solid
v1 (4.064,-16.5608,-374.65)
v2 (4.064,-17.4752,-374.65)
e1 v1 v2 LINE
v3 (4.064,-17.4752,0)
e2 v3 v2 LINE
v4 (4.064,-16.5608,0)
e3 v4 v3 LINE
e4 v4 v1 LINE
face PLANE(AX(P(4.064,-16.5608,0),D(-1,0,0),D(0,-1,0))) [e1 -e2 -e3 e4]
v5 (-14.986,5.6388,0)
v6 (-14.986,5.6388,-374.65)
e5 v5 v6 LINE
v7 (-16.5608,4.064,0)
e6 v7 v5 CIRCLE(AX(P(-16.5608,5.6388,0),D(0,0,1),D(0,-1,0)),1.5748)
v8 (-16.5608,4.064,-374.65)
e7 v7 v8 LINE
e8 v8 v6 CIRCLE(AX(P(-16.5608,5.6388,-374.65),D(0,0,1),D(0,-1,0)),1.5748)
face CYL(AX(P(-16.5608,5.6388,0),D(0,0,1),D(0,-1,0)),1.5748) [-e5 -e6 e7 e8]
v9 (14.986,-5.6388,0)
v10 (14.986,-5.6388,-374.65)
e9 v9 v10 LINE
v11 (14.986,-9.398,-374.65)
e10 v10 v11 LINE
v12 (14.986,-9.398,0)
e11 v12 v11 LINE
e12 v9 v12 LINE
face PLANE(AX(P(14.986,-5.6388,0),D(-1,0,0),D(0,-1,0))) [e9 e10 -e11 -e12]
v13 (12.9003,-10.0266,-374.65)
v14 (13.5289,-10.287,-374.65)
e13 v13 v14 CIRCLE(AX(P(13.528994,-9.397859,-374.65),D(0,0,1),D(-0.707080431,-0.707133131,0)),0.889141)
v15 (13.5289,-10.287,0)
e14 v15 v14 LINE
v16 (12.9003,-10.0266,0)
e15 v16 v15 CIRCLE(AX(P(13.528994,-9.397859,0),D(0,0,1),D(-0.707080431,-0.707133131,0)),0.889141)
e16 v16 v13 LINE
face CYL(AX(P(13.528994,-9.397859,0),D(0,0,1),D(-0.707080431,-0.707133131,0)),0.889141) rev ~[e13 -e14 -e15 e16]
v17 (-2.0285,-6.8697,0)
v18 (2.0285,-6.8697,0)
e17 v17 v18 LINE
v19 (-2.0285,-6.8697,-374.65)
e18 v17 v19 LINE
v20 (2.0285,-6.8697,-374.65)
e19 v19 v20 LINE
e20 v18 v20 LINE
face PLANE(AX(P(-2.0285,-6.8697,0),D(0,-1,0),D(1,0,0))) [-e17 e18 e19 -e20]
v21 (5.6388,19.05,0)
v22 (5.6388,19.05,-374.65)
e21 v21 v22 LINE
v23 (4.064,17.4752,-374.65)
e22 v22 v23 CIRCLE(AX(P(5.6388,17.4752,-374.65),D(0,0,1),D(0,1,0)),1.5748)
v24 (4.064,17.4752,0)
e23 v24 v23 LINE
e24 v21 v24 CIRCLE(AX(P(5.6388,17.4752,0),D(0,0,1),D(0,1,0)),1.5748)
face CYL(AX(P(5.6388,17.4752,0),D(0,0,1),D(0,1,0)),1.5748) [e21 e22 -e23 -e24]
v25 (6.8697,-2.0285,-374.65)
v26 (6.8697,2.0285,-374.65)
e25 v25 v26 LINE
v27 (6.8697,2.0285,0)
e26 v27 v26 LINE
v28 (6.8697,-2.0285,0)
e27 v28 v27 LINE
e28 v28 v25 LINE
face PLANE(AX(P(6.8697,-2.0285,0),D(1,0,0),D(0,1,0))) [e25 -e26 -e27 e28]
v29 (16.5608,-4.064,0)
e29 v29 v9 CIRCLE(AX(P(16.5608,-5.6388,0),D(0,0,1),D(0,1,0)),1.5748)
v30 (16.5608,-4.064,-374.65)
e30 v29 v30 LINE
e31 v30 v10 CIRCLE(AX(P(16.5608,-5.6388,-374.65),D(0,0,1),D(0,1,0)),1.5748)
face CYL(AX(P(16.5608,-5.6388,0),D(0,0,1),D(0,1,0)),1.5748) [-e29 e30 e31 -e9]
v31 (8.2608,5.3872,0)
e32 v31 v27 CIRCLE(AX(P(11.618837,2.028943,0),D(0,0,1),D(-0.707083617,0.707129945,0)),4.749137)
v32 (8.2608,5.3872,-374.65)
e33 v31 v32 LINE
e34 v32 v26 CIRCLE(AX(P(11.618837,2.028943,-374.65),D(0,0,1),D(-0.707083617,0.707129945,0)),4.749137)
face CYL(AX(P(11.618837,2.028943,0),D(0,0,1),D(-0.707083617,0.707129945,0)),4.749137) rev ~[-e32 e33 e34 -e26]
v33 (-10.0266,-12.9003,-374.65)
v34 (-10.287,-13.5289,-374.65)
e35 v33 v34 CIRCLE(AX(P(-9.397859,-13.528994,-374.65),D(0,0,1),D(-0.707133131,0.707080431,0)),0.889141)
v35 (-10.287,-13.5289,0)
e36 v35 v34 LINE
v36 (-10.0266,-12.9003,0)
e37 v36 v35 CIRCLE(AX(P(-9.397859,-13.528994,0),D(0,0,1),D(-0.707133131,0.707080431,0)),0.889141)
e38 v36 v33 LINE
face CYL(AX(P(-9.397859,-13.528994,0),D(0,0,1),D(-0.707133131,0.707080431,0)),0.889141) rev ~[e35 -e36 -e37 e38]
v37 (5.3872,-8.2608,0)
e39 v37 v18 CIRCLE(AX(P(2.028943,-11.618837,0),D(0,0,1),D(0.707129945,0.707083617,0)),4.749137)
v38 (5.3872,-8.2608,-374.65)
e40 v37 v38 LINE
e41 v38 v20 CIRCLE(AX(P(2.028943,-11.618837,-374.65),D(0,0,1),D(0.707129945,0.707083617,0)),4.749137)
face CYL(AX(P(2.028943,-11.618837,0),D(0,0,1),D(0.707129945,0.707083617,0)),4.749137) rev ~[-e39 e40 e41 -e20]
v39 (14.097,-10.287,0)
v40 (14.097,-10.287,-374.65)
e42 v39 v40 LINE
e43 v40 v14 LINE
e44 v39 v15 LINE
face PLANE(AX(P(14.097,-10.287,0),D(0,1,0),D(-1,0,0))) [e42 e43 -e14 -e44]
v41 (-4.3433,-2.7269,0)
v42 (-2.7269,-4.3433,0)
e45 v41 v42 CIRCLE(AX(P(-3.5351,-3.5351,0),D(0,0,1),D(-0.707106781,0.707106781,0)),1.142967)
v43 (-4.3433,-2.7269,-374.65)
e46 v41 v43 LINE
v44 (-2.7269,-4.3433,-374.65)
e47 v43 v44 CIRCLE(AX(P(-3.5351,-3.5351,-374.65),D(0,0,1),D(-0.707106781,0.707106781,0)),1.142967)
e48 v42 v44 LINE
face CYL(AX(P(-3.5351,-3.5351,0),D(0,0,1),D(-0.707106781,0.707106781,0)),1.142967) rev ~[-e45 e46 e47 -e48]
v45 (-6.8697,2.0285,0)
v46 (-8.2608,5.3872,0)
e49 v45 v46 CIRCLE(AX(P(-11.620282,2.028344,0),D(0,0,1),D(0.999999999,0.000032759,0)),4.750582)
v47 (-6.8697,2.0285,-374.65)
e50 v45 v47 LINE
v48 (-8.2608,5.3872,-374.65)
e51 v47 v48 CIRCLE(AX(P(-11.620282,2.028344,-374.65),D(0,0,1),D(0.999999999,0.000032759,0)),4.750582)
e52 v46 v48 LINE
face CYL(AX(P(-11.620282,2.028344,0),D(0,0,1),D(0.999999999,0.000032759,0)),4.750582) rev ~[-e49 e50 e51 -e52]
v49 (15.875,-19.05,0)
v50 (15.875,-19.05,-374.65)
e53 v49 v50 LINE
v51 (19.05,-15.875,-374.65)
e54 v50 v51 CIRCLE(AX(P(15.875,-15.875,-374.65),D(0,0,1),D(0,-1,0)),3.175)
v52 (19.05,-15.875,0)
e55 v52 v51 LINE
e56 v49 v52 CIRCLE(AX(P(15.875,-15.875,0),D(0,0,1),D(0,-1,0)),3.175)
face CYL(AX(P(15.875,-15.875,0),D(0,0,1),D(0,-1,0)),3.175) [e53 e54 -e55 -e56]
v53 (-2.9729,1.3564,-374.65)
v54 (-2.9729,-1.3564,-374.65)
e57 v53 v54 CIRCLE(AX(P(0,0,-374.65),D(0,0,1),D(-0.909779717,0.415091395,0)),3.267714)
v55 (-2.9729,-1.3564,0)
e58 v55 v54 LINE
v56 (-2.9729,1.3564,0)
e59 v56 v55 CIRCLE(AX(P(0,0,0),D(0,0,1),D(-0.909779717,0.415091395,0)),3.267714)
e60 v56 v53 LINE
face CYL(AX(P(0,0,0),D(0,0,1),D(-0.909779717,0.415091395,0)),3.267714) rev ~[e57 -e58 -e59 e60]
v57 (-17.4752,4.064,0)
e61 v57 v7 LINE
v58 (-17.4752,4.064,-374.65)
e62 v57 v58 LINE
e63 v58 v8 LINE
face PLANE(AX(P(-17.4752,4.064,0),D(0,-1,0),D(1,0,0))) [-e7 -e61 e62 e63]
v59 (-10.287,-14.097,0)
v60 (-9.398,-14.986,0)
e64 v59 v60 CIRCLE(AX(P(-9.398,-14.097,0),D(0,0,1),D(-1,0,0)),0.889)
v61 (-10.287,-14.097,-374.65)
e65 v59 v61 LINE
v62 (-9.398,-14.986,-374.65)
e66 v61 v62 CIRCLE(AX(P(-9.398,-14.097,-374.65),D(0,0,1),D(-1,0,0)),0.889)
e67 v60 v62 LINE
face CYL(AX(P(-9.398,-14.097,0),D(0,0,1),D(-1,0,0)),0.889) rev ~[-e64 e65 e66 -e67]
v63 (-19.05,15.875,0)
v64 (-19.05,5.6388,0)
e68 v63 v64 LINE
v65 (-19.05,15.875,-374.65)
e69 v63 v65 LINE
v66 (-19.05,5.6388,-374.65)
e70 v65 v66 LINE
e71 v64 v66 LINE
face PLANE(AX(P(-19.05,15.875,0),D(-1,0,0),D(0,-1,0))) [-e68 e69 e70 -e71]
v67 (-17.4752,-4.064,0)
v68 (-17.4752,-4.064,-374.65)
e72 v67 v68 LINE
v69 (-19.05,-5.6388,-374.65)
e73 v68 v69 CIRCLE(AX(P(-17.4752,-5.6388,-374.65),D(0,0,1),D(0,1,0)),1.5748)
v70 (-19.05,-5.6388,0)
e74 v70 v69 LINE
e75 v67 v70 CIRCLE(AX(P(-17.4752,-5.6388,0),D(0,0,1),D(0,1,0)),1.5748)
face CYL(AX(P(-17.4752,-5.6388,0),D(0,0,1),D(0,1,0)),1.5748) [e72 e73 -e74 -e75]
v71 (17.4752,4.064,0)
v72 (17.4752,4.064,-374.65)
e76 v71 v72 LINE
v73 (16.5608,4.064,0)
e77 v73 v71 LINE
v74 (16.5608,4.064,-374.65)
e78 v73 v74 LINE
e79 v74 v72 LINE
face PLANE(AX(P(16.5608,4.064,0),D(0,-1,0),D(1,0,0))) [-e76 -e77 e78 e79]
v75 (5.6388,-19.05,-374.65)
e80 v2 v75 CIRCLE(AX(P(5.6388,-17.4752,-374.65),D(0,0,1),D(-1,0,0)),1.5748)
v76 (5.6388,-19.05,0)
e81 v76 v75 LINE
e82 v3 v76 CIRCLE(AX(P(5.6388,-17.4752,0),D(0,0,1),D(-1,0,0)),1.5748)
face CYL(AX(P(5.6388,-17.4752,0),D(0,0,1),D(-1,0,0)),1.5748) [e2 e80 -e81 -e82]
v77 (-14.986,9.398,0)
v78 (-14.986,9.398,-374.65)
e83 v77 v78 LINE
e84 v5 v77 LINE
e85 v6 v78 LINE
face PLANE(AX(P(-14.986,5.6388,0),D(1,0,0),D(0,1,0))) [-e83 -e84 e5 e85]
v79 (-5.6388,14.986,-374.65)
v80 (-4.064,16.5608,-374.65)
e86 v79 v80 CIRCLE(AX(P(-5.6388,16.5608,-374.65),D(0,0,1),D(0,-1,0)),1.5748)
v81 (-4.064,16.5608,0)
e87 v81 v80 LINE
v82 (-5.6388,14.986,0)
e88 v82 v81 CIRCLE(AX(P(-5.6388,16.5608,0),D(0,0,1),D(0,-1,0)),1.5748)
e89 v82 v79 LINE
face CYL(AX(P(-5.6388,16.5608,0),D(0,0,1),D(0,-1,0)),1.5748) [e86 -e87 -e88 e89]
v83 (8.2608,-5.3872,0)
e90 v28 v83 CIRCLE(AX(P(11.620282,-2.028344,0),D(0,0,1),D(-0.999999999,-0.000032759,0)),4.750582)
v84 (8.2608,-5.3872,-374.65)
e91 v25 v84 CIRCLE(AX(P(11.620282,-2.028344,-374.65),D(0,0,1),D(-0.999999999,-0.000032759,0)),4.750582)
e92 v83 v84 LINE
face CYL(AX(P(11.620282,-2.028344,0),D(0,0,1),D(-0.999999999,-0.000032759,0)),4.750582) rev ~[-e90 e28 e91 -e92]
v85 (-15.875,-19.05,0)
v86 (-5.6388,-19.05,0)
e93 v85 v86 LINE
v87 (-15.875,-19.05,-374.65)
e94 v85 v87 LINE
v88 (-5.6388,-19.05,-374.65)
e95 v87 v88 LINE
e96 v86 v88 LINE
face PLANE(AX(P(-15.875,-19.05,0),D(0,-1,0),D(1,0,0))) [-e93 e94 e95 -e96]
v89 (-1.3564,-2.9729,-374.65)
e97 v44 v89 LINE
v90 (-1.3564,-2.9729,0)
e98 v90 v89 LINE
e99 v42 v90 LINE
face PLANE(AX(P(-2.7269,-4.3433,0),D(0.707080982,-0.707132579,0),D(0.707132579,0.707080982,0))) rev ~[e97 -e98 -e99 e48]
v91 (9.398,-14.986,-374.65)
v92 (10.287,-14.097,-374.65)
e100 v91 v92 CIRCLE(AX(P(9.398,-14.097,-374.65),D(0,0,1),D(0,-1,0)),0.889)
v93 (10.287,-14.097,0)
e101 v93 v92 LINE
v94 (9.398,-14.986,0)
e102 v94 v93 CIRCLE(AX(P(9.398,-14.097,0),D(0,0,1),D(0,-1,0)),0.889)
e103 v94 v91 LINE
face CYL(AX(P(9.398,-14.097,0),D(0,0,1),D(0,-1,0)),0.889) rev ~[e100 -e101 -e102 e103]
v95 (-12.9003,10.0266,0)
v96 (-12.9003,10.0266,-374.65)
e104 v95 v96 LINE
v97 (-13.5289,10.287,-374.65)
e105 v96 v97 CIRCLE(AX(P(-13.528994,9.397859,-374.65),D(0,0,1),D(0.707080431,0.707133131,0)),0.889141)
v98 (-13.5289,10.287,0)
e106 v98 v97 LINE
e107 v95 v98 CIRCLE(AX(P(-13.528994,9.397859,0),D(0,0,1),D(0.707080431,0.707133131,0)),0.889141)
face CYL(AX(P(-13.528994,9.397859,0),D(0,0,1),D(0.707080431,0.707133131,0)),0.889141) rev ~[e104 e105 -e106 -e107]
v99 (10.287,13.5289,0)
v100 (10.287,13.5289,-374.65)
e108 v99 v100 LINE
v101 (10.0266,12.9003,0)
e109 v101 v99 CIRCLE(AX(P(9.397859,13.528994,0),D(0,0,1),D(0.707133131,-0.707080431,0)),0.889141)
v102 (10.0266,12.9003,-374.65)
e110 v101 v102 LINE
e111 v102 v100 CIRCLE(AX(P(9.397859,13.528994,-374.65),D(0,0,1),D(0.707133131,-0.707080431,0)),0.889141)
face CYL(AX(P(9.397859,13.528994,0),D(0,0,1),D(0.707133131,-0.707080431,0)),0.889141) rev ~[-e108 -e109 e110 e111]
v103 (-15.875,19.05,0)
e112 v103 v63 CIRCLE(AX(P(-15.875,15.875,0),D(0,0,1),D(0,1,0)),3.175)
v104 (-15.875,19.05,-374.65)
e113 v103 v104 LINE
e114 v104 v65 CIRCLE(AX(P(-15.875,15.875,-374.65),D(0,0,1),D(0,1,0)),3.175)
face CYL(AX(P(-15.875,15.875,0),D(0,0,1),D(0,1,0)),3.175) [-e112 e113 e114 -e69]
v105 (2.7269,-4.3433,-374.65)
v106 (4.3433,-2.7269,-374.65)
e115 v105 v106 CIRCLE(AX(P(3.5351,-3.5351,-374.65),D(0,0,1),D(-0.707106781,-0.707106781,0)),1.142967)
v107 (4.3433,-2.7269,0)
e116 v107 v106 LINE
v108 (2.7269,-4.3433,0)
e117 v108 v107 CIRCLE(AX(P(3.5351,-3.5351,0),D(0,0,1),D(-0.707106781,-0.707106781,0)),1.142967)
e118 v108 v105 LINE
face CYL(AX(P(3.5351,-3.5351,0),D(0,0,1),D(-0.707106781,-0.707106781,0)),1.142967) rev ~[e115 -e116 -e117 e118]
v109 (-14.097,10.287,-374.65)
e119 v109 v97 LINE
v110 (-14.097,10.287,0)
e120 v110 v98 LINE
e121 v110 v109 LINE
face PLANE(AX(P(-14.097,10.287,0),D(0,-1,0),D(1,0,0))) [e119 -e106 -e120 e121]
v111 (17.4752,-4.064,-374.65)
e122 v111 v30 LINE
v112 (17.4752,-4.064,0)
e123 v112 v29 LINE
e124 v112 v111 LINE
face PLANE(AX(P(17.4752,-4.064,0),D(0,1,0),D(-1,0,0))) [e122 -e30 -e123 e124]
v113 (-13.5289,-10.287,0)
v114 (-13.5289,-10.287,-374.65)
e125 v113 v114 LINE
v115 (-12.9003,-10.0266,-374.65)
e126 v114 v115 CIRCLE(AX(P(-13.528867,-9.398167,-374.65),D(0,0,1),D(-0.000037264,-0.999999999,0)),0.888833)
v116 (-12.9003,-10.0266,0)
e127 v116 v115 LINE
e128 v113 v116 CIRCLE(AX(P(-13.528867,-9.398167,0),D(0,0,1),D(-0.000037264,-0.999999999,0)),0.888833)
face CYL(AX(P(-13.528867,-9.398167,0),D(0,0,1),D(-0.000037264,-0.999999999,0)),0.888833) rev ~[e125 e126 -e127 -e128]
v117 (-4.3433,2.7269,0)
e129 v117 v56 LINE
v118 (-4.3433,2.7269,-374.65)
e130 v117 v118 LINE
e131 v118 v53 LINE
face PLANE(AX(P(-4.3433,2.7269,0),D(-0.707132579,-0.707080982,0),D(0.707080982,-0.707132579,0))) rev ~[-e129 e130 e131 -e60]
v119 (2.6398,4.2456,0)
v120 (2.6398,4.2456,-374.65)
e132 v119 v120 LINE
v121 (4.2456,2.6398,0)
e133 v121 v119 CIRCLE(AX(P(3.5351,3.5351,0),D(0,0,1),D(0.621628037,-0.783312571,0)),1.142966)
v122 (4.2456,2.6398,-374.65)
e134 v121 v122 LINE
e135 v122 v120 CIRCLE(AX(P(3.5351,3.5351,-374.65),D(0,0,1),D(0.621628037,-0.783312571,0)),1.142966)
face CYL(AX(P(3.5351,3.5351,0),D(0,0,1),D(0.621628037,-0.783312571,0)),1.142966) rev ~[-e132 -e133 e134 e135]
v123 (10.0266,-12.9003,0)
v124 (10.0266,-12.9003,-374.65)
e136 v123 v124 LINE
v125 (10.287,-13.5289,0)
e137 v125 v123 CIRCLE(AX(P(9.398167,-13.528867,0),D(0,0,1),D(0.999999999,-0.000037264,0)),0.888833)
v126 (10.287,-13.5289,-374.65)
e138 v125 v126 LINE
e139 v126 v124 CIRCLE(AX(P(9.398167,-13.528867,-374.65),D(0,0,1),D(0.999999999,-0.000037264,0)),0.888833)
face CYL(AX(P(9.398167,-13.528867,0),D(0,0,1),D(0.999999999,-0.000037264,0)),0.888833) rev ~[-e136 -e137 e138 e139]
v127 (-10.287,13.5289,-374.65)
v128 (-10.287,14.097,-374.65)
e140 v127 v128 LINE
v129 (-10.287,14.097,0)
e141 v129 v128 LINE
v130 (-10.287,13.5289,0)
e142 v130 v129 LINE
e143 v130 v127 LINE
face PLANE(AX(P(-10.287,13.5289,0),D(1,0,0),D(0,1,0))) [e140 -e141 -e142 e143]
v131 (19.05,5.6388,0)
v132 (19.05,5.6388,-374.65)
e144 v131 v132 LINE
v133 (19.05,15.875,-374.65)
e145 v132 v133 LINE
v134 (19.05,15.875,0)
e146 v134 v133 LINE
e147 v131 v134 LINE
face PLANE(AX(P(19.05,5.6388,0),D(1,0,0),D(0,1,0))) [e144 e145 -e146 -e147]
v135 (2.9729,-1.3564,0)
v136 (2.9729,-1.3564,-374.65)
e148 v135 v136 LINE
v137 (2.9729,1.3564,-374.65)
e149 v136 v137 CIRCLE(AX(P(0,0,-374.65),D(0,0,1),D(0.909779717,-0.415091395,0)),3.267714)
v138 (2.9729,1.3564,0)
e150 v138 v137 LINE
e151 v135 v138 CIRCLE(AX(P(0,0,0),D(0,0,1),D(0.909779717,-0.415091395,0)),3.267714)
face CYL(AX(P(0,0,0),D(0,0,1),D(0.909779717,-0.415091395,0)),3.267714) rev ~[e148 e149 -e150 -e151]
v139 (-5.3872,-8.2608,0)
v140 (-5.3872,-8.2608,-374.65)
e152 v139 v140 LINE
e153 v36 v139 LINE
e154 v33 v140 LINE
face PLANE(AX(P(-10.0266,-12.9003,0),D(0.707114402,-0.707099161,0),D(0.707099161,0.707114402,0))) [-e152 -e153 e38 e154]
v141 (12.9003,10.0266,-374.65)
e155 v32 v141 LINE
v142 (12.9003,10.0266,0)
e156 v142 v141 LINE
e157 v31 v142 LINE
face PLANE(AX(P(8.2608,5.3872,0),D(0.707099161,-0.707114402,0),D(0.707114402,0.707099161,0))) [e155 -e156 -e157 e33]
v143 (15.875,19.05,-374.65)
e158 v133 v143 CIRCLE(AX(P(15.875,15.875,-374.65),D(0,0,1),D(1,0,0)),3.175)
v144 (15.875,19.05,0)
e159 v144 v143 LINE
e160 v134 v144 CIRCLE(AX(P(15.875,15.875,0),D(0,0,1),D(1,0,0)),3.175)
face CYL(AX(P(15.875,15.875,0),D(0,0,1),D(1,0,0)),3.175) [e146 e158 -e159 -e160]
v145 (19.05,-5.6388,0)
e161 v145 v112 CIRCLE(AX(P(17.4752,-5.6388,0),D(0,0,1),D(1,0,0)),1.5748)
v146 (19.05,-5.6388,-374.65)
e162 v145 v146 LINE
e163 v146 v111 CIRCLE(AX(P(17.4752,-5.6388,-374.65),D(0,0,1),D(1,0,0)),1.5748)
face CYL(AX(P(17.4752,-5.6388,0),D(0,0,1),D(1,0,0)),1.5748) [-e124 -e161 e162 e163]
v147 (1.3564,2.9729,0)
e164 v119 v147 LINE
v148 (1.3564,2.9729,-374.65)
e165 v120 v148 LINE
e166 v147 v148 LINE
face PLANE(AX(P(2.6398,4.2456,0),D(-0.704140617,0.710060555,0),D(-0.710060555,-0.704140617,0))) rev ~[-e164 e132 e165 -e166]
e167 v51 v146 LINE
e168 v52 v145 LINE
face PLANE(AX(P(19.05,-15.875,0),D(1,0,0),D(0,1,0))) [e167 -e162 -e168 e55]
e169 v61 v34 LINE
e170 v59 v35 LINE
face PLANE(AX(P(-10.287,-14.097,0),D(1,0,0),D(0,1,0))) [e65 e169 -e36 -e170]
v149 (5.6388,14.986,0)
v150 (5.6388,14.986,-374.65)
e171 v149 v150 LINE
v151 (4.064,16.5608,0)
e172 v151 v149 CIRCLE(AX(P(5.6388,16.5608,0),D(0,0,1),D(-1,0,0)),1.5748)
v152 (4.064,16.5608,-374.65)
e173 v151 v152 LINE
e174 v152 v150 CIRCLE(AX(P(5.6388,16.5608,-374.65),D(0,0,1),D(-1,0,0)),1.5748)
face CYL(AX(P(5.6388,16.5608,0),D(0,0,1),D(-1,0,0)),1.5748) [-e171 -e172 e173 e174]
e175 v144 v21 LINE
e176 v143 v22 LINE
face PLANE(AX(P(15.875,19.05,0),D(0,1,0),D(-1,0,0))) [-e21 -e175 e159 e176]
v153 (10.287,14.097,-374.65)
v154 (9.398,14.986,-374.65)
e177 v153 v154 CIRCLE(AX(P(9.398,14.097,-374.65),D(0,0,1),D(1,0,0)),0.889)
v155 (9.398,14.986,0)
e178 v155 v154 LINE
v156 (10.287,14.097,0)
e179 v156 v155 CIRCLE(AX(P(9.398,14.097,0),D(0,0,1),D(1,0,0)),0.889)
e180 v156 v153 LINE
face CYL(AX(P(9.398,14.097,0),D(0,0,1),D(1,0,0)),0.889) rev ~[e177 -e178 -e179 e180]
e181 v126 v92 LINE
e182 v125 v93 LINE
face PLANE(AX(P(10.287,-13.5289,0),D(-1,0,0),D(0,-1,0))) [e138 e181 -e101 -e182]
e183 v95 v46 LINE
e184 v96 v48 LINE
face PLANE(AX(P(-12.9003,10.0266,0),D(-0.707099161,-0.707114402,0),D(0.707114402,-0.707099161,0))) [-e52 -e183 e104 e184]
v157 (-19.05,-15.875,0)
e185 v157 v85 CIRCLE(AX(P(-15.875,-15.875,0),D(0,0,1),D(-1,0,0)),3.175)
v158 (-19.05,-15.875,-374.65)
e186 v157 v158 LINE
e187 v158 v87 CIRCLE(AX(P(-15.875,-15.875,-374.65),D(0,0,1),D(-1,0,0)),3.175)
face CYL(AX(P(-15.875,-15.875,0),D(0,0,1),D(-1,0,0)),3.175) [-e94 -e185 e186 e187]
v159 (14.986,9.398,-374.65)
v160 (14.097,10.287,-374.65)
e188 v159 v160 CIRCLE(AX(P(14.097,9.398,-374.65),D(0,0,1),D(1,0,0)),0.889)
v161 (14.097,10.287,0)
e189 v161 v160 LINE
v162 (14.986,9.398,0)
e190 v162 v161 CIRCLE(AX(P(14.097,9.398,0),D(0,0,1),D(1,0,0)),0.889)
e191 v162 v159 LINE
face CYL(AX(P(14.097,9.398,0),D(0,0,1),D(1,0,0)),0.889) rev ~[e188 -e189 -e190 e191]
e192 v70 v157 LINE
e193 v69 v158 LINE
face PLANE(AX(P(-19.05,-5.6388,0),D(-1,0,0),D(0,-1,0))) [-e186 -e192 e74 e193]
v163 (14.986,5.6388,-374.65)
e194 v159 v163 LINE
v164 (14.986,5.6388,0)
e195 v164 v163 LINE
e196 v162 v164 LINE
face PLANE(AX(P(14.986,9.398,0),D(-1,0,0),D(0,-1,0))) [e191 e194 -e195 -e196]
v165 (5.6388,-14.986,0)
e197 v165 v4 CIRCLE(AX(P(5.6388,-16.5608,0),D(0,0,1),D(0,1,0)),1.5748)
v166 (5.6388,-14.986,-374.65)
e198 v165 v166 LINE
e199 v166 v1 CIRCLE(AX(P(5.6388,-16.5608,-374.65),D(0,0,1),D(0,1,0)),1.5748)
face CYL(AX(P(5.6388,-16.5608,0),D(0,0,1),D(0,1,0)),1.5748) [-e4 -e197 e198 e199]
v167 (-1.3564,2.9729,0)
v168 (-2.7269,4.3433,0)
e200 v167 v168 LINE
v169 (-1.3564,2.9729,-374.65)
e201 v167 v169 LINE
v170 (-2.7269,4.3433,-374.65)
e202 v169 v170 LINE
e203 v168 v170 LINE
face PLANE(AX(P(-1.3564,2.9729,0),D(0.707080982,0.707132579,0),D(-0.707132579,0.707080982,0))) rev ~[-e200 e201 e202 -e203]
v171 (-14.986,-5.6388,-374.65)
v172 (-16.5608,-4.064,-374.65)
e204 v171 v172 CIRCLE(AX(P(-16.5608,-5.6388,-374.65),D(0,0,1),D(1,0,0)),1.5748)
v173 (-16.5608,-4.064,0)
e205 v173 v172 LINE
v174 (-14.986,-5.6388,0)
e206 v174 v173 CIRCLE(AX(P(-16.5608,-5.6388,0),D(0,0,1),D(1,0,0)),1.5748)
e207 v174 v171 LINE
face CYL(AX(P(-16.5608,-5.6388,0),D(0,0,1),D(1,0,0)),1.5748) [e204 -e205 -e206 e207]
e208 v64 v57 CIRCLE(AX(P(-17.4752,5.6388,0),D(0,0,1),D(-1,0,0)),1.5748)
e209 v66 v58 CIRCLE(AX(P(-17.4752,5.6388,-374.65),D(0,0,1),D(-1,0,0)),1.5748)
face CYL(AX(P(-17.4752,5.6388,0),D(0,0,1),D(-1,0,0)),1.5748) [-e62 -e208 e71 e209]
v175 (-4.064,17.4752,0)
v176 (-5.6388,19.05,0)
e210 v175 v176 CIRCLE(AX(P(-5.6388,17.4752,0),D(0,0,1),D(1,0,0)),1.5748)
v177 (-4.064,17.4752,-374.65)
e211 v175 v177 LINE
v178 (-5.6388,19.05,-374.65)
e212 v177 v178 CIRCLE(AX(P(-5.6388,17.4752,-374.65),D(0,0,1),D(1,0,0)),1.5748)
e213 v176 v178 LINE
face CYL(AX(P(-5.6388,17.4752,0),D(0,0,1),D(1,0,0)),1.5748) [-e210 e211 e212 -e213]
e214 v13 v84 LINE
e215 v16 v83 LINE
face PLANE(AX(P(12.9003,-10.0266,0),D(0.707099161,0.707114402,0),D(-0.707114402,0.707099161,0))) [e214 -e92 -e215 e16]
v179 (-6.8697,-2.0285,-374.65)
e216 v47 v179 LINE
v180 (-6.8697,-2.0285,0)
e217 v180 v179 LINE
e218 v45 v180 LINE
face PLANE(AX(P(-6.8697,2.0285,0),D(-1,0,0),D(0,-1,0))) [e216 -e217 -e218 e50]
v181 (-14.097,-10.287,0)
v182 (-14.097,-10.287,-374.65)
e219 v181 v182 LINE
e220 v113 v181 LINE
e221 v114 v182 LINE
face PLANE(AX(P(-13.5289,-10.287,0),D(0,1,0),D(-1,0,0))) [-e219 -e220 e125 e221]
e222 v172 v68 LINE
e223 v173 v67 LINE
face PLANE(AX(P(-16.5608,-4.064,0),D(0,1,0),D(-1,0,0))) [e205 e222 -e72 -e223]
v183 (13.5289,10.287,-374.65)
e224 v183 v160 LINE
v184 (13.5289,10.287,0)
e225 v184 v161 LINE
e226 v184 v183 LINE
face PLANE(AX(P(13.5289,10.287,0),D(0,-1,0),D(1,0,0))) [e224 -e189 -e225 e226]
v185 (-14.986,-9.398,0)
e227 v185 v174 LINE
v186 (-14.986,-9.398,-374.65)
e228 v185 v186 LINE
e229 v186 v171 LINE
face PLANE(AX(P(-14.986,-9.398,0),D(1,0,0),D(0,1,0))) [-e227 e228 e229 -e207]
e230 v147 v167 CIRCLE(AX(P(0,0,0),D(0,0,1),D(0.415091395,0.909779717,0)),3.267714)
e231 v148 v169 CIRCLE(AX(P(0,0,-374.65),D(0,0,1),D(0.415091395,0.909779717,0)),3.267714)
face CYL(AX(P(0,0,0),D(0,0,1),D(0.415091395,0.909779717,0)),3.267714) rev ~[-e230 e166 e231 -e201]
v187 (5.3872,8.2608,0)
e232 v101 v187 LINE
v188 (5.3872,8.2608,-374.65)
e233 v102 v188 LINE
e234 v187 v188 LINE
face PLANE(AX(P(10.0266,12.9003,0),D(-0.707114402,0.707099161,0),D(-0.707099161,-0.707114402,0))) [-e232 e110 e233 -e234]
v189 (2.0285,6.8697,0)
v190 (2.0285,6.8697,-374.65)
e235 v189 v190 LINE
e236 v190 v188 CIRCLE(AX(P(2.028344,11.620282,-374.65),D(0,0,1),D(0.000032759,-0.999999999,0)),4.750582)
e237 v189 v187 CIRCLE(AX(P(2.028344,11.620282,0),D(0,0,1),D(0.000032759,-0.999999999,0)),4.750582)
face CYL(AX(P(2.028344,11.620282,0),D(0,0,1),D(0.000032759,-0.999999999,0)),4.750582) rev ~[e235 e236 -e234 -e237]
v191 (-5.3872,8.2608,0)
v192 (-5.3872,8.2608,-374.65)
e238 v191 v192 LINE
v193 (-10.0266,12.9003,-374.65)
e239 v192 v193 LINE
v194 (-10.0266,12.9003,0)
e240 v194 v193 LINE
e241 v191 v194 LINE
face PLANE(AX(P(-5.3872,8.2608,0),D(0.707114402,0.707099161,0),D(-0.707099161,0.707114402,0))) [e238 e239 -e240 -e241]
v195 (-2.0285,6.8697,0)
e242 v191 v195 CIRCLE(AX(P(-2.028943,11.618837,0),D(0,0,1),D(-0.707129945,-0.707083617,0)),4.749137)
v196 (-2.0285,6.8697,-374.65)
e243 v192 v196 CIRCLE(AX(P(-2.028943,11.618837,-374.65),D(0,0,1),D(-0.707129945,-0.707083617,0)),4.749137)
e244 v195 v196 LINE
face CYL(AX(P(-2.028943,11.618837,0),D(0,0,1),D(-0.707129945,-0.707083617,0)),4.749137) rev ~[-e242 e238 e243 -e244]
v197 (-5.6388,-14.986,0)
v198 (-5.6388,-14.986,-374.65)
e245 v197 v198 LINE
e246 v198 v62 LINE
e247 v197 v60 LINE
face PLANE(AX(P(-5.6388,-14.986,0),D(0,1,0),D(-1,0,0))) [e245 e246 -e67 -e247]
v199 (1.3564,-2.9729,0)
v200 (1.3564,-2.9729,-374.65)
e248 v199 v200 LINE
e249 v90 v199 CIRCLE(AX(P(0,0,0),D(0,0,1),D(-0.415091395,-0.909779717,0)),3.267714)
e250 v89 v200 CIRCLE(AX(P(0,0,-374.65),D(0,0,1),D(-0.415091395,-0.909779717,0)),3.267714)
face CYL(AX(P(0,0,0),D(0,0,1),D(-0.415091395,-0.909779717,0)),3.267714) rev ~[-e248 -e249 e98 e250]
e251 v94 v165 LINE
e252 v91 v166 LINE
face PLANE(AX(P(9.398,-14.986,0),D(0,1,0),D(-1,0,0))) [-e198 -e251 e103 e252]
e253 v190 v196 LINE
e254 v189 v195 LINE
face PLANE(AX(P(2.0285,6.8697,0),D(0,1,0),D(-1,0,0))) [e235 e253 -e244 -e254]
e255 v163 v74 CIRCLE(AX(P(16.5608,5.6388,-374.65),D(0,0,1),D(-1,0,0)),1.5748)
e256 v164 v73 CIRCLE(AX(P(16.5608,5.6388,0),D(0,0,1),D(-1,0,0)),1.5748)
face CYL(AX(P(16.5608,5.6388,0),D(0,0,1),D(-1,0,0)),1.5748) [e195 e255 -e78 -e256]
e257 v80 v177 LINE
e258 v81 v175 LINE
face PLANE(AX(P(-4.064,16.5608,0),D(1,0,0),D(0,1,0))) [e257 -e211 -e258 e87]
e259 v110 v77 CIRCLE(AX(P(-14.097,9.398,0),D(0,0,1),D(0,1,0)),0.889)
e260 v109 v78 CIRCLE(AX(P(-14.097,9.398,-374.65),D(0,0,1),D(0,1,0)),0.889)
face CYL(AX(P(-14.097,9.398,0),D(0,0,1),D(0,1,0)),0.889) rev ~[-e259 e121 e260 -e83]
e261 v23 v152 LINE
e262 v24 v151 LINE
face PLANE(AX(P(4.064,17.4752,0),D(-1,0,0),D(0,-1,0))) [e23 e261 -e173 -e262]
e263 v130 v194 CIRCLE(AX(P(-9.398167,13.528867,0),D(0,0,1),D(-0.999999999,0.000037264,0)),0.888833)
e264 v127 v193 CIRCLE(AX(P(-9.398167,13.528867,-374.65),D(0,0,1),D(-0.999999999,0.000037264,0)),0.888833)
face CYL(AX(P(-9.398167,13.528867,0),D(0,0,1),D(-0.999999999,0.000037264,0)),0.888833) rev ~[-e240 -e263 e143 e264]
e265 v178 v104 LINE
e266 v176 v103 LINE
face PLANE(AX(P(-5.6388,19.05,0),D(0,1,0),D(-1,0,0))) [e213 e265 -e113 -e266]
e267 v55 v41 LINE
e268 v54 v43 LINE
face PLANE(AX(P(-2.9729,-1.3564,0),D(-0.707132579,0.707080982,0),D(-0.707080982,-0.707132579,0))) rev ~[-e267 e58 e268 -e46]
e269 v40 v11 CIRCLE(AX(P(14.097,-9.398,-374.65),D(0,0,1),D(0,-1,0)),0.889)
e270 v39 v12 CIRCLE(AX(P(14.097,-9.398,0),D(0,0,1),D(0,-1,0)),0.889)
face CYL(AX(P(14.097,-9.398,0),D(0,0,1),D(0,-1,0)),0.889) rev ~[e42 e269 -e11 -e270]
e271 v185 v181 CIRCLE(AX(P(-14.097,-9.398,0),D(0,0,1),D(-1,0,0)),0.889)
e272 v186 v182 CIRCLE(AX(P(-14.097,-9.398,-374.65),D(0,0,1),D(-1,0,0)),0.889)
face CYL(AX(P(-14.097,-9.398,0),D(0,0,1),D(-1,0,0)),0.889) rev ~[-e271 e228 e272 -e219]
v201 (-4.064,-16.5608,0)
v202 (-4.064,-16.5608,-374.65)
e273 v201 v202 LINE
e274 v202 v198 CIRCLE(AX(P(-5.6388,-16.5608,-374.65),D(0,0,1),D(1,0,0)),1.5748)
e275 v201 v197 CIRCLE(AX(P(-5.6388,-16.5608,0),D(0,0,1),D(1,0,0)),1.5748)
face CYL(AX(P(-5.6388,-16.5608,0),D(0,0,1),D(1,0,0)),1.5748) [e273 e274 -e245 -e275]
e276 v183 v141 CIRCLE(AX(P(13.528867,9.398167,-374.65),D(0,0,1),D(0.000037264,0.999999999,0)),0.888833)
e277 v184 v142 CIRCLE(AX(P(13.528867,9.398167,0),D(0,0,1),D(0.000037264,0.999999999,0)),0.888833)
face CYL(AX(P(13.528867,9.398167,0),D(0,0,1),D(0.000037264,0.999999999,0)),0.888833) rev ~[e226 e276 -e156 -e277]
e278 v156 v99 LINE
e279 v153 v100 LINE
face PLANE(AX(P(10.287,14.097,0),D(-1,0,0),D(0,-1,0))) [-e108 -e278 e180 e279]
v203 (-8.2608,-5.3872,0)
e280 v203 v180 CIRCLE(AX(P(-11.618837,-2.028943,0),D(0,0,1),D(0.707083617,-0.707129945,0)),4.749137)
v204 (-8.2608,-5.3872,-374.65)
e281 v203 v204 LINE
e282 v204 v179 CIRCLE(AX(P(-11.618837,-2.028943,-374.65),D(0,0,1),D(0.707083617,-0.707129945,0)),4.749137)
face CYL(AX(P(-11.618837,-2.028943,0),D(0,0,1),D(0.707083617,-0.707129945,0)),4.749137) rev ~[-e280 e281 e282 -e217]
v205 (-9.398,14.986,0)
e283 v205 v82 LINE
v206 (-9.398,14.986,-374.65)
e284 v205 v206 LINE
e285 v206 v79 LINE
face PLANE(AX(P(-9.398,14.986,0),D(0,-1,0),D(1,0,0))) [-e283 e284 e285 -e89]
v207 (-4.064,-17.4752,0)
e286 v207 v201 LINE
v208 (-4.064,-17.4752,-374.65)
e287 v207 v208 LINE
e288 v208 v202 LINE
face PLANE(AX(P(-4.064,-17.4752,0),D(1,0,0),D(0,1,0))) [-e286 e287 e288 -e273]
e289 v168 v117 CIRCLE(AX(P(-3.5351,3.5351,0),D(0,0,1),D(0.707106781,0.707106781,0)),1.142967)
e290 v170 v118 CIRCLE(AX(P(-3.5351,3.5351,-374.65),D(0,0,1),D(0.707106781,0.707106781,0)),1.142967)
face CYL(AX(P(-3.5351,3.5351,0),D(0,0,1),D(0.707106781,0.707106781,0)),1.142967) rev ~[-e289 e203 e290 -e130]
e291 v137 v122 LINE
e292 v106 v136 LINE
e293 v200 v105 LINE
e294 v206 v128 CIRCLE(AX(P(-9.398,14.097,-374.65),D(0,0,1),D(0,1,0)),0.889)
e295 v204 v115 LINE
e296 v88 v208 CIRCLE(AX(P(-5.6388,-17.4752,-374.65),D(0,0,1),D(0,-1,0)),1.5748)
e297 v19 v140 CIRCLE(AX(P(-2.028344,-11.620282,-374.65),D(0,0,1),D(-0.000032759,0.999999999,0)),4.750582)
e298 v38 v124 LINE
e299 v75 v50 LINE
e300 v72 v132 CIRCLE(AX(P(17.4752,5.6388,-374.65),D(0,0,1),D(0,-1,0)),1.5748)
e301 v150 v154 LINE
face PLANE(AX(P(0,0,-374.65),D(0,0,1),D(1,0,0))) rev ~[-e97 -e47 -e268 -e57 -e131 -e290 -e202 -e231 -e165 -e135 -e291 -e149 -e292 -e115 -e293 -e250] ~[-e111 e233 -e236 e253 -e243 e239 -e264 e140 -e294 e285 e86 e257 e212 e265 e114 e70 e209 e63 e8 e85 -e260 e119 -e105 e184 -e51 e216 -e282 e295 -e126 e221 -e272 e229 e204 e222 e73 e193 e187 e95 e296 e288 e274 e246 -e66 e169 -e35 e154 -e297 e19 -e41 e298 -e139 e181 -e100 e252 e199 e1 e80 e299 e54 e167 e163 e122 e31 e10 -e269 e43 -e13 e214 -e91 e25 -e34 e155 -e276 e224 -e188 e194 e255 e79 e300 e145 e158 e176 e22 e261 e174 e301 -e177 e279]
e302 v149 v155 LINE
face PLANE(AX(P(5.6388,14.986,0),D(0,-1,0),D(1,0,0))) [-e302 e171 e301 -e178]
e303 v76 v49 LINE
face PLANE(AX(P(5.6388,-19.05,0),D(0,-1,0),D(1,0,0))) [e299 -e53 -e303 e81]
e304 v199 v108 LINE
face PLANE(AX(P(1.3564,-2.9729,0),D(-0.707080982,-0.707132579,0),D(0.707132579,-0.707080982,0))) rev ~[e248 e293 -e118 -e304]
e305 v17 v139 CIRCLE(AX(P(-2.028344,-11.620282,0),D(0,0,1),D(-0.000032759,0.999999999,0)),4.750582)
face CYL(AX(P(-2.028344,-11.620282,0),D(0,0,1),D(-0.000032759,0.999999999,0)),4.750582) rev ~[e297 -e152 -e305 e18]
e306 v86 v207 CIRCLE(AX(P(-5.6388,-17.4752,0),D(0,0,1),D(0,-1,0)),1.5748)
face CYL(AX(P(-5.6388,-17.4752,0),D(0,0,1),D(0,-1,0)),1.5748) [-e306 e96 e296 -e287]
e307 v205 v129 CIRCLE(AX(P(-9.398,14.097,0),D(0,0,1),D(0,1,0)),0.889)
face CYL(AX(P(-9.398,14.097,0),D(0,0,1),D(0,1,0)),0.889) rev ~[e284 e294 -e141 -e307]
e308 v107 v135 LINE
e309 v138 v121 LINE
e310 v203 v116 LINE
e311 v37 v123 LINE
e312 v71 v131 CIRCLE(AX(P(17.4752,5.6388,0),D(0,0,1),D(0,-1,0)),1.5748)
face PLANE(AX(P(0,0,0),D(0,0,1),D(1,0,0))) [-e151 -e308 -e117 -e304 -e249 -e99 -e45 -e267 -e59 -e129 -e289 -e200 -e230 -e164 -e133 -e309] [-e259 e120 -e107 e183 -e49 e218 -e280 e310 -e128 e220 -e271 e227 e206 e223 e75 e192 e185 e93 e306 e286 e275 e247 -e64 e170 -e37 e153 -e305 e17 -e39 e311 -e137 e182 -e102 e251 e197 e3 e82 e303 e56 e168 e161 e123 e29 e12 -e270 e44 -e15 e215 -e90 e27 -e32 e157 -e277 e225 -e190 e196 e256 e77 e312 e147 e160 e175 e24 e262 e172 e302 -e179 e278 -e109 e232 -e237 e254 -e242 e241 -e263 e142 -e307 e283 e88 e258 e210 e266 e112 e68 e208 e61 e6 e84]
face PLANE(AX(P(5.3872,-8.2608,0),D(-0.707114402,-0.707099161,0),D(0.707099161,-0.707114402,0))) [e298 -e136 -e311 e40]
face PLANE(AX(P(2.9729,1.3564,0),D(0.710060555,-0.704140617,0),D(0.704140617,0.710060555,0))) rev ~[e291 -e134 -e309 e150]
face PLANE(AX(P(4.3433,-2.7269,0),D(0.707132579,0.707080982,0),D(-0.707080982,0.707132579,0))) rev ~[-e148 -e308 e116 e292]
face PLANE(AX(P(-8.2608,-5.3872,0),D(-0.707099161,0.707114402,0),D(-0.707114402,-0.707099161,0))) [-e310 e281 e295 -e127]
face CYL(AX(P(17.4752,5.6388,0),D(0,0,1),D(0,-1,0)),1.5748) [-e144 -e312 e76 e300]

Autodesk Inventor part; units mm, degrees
ref_plane "YZ Plane" through (0, 0, 0) normal (1, 0, 0) x (0, 1, 0)
ref_plane "XZ Plane" through (0, 0, 0) normal (0, 1, 0) x (-1, 0, 0)
ref_plane "Work Plane1" through (-293.8098, -15.875, -838.2) normal (0, 0, 1) x (1, 0, 0)
sketch "Sketch1" plane through (0, 0, 0) normal (0, 0, 1) x (1, 0, 0)
  arc A0 (4.2456, 2.6398) -> (2.6398, 4.2456) centre (3.5351, 3.5351) ccw
  line L0 (2.9729, 1.3564) -> (4.2456, 2.6398)
  arc A1 (2.9729, -1.3564) -> (2.9729, 1.3564) centre (0, 0) ccw
  line L1 (4.3433, -2.7269) -> (2.9729, -1.3564)
  arc A2 (2.7269, -4.3433) -> (4.3433, -2.7269) centre (3.5351, -3.5351) ccw
  line L2 (1.3564, -2.9729) -> (2.7269, -4.3433)
  arc A3 (-1.3564, -2.9729) -> (1.3564, -2.9729) centre (0, 0) ccw
  line L3 (-2.7269, -4.3433) -> (-1.3564, -2.9729)
  arc A4 (-4.3433, -2.7269) -> (-2.7269, -4.3433) centre (-3.5351, -3.5351) ccw
  line L4 (-2.9729, -1.3564) -> (-4.3433, -2.7269)
  arc A5 (-2.9729, 1.3564) -> (-2.9729, -1.3564) centre (0, 0) ccw
  line L5 (-4.3433, 2.7269) -> (-2.9729, 1.3564)
  arc A6 (-2.7269, 4.3433) -> (-4.3433, 2.7269) centre (-3.5351, 3.5351) ccw
  line L6 (-1.3564, 2.9729) -> (-2.7269, 4.3433)
  arc A7 (1.3564, 2.9729) -> (-1.3564, 2.9729) centre (0, 0) ccw
  line L7 (2.6398, 4.2456) -> (1.3564, 2.9729)
  arc A8 (16.5608, -4.064) -> (14.986, -5.6388) centre (16.5608, -5.6388) ccw
  line L8 (14.986, -5.6388) -> (14.986, -9.398)
  arc A9 (14.097, -10.287) -> (14.986, -9.398) centre (14.097, -9.398) ccw
  line L9 (14.097, -10.287) -> (13.5289, -10.287)
  arc A10 (12.9003, -10.0266) -> (13.5289, -10.287) centre (13.5289, -9.398) ccw
  line L10 (12.9003, -10.0266) -> (8.2608, -5.3872)
  arc A11 (6.8697, -2.0285) -> (8.2608, -5.3872) centre (11.6195, -2.0285) ccw
  line L11 (6.8697, -2.0285) -> (6.8697, 2.0285)
  arc A12 (8.2608, 5.3872) -> (6.8697, 2.0285) centre (11.6195, 2.0285) ccw
  line L12 (8.2608, 5.3872) -> (12.9003, 10.0266)
  arc A13 (13.5289, 10.287) -> (12.9003, 10.0266) centre (13.5289, 9.398) ccw
  line L13 (13.5289, 10.287) -> (14.097, 10.287)
  arc A14 (14.986, 9.398) -> (14.097, 10.287) centre (14.097, 9.398) ccw
  line L14 (14.986, 9.398) -> (14.986, 5.6388)
  arc A15 (14.986, 5.6388) -> (16.5608, 4.064) centre (16.5608, 5.6388) ccw
  line L15 (16.5608, 4.064) -> (17.4752, 4.064)
  arc A16 (17.4752, 4.064) -> (19.05, 5.6388) centre (17.4752, 5.6388) ccw
  line L16 (19.05, 5.6388) -> (19.05, 15.875)
  arc A17 (19.05, 15.875) -> (15.875, 19.05) centre (15.875, 15.875) ccw
  line L17 (15.875, 19.05) -> (5.6388, 19.05)
  arc A18 (5.6388, 19.05) -> (4.064, 17.4752) centre (5.6388, 17.4752) ccw
  line L18 (4.064, 17.4752) -> (4.064, 16.5608)
  arc A19 (4.064, 16.5608) -> (5.6388, 14.986) centre (5.6388, 16.5608) ccw
  line L19 (5.6388, 14.986) -> (9.398, 14.986)
  arc A20 (10.287, 14.097) -> (9.398, 14.986) centre (9.398, 14.097) ccw
  line L20 (10.287, 14.097) -> (10.287, 13.5289)
  arc A21 (10.0266, 12.9003) -> (10.287, 13.5289) centre (9.398, 13.5289) ccw
  line L21 (10.0266, 12.9003) -> (5.3872, 8.2608)
  arc A22 (2.0285, 6.8697) -> (5.3872, 8.2608) centre (2.0285, 11.6195) ccw
  line L22 (2.0285, 6.8697) -> (-2.0285, 6.8697)
  arc A23 (-5.3872, 8.2608) -> (-2.0285, 6.8697) centre (-2.0285, 11.6195) ccw
  line L23 (-5.3872, 8.2608) -> (-10.0266, 12.9003)
  arc A24 (-10.287, 13.5289) -> (-10.0266, 12.9003) centre (-9.398, 13.5289) ccw
  line L24 (-10.287, 13.5289) -> (-10.287, 14.097)
  arc A25 (-9.398, 14.986) -> (-10.287, 14.097) centre (-9.398, 14.097) ccw
  line L25 (-9.398, 14.986) -> (-5.6388, 14.986)
  arc A26 (-5.6388, 14.986) -> (-4.064, 16.5608) centre (-5.6388, 16.5608) ccw
  line L26 (-4.064, 16.5608) -> (-4.064, 17.4752)
  arc A27 (-4.064, 17.4752) -> (-5.6388, 19.05) centre (-5.6388, 17.4752) ccw
  line L27 (-5.6388, 19.05) -> (-15.875, 19.05)
  arc A28 (-15.875, 19.05) -> (-19.05, 15.875) centre (-15.875, 15.875) ccw
  line L28 (-19.05, 15.875) -> (-19.05, 5.6388)
  arc A29 (-19.05, 5.6388) -> (-17.4752, 4.064) centre (-17.4752, 5.6388) ccw
  line L29 (-17.4752, 4.064) -> (-16.5608, 4.064)
  arc A30 (-16.5608, 4.064) -> (-14.986, 5.6388) centre (-16.5608, 5.6388) ccw
  line L30 (-14.986, 5.6388) -> (-14.986, 9.398)
  arc A31 (-14.097, 10.287) -> (-14.986, 9.398) centre (-14.097, 9.398) ccw
  line L31 (-14.097, 10.287) -> (-13.5289, 10.287)
  arc A32 (-12.9003, 10.0266) -> (-13.5289, 10.287) centre (-13.5289, 9.398) ccw
  line L32 (-12.9003, 10.0266) -> (-8.2608, 5.3872)
  arc A33 (-6.8697, 2.0285) -> (-8.2608, 5.3872) centre (-11.6195, 2.0285) ccw
  line L33 (-6.8697, 2.0285) -> (-6.8697, -2.0285)
  arc A34 (-8.2608, -5.3872) -> (-6.8697, -2.0285) centre (-11.6195, -2.0285) ccw
  line L34 (-8.2608, -5.3872) -> (-12.9003, -10.0266)
  arc A35 (-13.5289, -10.287) -> (-12.9003, -10.0266) centre (-13.5289, -9.398) ccw
  line L35 (-13.5289, -10.287) -> (-14.097, -10.287)
  arc A36 (-14.986, -9.398) -> (-14.097, -10.287) centre (-14.097, -9.398) ccw
  line L36 (-14.986, -9.398) -> (-14.986, -5.6388)
  arc A37 (-14.986, -5.6388) -> (-16.5608, -4.064) centre (-16.5608, -5.6388) ccw
  line L37 (-16.5608, -4.064) -> (-17.4752, -4.064)
  arc A38 (-17.4752, -4.064) -> (-19.05, -5.6388) centre (-17.4752, -5.6388) ccw
  line L38 (-19.05, -5.6388) -> (-19.05, -15.875)
  arc A39 (-19.05, -15.875) -> (-15.875, -19.05) centre (-15.875, -15.875) ccw
  line L39 (-15.875, -19.05) -> (-5.6388, -19.05)
  arc A40 (-5.6388, -19.05) -> (-4.064, -17.4752) centre (-5.6388, -17.4752) ccw
  line L40 (-4.064, -17.4752) -> (-4.064, -16.5608)
  arc A41 (-4.064, -16.5608) -> (-5.6388, -14.986) centre (-5.6388, -16.5608) ccw
  line L41 (-5.6388, -14.986) -> (-9.398, -14.986)
  arc A42 (-10.287, -14.097) -> (-9.398, -14.986) centre (-9.398, -14.097) ccw
  line L42 (-10.287, -14.097) -> (-10.287, -13.5289)
  arc A43 (-10.0266, -12.9003) -> (-10.287, -13.5289) centre (-9.398, -13.5289) ccw
  line L43 (-10.0266, -12.9003) -> (-5.3872, -8.2608)
  arc A44 (-2.0285, -6.8697) -> (-5.3872, -8.2608) centre (-2.0285, -11.6195) ccw
  line L44 (-2.0285, -6.8697) -> (2.0285, -6.8697)
  arc A45 (5.3872, -8.2608) -> (2.0285, -6.8697) centre (2.0285, -11.6195) ccw
  line L45 (5.3872, -8.2608) -> (10.0266, -12.9003)
  arc A46 (10.287, -13.5289) -> (10.0266, -12.9003) centre (9.398, -13.5289) ccw
  line L46 (10.287, -13.5289) -> (10.287, -14.097)
  arc A47 (9.398, -14.986) -> (10.287, -14.097) centre (9.398, -14.097) ccw
  line L47 (9.398, -14.986) -> (5.6388, -14.986)
  arc A48 (5.6388, -14.986) -> (4.064, -16.5608) centre (5.6388, -16.5608) ccw
  line L48 (4.064, -16.5608) -> (4.064, -17.4752)
  arc A49 (4.064, -17.4752) -> (5.6388, -19.05) centre (5.6388, -17.4752) ccw
  line L49 (5.6388, -19.05) -> (15.875, -19.05)
  arc A50 (15.875, -19.05) -> (19.05, -15.875) centre (15.875, -15.875) ccw
  line L50 (19.05, -15.875) -> (19.05, -5.6388)
  arc A51 (19.05, -5.6388) -> (17.4752, -4.064) centre (17.4752, -5.6388) ccw
  line L51 (17.4752, -4.064) -> (16.5608, -4.064)
extrude "Extrusion1" add sketch "Sketch1" against normal blind 374.65
properties part number "1515-S" material "Aluminum"
